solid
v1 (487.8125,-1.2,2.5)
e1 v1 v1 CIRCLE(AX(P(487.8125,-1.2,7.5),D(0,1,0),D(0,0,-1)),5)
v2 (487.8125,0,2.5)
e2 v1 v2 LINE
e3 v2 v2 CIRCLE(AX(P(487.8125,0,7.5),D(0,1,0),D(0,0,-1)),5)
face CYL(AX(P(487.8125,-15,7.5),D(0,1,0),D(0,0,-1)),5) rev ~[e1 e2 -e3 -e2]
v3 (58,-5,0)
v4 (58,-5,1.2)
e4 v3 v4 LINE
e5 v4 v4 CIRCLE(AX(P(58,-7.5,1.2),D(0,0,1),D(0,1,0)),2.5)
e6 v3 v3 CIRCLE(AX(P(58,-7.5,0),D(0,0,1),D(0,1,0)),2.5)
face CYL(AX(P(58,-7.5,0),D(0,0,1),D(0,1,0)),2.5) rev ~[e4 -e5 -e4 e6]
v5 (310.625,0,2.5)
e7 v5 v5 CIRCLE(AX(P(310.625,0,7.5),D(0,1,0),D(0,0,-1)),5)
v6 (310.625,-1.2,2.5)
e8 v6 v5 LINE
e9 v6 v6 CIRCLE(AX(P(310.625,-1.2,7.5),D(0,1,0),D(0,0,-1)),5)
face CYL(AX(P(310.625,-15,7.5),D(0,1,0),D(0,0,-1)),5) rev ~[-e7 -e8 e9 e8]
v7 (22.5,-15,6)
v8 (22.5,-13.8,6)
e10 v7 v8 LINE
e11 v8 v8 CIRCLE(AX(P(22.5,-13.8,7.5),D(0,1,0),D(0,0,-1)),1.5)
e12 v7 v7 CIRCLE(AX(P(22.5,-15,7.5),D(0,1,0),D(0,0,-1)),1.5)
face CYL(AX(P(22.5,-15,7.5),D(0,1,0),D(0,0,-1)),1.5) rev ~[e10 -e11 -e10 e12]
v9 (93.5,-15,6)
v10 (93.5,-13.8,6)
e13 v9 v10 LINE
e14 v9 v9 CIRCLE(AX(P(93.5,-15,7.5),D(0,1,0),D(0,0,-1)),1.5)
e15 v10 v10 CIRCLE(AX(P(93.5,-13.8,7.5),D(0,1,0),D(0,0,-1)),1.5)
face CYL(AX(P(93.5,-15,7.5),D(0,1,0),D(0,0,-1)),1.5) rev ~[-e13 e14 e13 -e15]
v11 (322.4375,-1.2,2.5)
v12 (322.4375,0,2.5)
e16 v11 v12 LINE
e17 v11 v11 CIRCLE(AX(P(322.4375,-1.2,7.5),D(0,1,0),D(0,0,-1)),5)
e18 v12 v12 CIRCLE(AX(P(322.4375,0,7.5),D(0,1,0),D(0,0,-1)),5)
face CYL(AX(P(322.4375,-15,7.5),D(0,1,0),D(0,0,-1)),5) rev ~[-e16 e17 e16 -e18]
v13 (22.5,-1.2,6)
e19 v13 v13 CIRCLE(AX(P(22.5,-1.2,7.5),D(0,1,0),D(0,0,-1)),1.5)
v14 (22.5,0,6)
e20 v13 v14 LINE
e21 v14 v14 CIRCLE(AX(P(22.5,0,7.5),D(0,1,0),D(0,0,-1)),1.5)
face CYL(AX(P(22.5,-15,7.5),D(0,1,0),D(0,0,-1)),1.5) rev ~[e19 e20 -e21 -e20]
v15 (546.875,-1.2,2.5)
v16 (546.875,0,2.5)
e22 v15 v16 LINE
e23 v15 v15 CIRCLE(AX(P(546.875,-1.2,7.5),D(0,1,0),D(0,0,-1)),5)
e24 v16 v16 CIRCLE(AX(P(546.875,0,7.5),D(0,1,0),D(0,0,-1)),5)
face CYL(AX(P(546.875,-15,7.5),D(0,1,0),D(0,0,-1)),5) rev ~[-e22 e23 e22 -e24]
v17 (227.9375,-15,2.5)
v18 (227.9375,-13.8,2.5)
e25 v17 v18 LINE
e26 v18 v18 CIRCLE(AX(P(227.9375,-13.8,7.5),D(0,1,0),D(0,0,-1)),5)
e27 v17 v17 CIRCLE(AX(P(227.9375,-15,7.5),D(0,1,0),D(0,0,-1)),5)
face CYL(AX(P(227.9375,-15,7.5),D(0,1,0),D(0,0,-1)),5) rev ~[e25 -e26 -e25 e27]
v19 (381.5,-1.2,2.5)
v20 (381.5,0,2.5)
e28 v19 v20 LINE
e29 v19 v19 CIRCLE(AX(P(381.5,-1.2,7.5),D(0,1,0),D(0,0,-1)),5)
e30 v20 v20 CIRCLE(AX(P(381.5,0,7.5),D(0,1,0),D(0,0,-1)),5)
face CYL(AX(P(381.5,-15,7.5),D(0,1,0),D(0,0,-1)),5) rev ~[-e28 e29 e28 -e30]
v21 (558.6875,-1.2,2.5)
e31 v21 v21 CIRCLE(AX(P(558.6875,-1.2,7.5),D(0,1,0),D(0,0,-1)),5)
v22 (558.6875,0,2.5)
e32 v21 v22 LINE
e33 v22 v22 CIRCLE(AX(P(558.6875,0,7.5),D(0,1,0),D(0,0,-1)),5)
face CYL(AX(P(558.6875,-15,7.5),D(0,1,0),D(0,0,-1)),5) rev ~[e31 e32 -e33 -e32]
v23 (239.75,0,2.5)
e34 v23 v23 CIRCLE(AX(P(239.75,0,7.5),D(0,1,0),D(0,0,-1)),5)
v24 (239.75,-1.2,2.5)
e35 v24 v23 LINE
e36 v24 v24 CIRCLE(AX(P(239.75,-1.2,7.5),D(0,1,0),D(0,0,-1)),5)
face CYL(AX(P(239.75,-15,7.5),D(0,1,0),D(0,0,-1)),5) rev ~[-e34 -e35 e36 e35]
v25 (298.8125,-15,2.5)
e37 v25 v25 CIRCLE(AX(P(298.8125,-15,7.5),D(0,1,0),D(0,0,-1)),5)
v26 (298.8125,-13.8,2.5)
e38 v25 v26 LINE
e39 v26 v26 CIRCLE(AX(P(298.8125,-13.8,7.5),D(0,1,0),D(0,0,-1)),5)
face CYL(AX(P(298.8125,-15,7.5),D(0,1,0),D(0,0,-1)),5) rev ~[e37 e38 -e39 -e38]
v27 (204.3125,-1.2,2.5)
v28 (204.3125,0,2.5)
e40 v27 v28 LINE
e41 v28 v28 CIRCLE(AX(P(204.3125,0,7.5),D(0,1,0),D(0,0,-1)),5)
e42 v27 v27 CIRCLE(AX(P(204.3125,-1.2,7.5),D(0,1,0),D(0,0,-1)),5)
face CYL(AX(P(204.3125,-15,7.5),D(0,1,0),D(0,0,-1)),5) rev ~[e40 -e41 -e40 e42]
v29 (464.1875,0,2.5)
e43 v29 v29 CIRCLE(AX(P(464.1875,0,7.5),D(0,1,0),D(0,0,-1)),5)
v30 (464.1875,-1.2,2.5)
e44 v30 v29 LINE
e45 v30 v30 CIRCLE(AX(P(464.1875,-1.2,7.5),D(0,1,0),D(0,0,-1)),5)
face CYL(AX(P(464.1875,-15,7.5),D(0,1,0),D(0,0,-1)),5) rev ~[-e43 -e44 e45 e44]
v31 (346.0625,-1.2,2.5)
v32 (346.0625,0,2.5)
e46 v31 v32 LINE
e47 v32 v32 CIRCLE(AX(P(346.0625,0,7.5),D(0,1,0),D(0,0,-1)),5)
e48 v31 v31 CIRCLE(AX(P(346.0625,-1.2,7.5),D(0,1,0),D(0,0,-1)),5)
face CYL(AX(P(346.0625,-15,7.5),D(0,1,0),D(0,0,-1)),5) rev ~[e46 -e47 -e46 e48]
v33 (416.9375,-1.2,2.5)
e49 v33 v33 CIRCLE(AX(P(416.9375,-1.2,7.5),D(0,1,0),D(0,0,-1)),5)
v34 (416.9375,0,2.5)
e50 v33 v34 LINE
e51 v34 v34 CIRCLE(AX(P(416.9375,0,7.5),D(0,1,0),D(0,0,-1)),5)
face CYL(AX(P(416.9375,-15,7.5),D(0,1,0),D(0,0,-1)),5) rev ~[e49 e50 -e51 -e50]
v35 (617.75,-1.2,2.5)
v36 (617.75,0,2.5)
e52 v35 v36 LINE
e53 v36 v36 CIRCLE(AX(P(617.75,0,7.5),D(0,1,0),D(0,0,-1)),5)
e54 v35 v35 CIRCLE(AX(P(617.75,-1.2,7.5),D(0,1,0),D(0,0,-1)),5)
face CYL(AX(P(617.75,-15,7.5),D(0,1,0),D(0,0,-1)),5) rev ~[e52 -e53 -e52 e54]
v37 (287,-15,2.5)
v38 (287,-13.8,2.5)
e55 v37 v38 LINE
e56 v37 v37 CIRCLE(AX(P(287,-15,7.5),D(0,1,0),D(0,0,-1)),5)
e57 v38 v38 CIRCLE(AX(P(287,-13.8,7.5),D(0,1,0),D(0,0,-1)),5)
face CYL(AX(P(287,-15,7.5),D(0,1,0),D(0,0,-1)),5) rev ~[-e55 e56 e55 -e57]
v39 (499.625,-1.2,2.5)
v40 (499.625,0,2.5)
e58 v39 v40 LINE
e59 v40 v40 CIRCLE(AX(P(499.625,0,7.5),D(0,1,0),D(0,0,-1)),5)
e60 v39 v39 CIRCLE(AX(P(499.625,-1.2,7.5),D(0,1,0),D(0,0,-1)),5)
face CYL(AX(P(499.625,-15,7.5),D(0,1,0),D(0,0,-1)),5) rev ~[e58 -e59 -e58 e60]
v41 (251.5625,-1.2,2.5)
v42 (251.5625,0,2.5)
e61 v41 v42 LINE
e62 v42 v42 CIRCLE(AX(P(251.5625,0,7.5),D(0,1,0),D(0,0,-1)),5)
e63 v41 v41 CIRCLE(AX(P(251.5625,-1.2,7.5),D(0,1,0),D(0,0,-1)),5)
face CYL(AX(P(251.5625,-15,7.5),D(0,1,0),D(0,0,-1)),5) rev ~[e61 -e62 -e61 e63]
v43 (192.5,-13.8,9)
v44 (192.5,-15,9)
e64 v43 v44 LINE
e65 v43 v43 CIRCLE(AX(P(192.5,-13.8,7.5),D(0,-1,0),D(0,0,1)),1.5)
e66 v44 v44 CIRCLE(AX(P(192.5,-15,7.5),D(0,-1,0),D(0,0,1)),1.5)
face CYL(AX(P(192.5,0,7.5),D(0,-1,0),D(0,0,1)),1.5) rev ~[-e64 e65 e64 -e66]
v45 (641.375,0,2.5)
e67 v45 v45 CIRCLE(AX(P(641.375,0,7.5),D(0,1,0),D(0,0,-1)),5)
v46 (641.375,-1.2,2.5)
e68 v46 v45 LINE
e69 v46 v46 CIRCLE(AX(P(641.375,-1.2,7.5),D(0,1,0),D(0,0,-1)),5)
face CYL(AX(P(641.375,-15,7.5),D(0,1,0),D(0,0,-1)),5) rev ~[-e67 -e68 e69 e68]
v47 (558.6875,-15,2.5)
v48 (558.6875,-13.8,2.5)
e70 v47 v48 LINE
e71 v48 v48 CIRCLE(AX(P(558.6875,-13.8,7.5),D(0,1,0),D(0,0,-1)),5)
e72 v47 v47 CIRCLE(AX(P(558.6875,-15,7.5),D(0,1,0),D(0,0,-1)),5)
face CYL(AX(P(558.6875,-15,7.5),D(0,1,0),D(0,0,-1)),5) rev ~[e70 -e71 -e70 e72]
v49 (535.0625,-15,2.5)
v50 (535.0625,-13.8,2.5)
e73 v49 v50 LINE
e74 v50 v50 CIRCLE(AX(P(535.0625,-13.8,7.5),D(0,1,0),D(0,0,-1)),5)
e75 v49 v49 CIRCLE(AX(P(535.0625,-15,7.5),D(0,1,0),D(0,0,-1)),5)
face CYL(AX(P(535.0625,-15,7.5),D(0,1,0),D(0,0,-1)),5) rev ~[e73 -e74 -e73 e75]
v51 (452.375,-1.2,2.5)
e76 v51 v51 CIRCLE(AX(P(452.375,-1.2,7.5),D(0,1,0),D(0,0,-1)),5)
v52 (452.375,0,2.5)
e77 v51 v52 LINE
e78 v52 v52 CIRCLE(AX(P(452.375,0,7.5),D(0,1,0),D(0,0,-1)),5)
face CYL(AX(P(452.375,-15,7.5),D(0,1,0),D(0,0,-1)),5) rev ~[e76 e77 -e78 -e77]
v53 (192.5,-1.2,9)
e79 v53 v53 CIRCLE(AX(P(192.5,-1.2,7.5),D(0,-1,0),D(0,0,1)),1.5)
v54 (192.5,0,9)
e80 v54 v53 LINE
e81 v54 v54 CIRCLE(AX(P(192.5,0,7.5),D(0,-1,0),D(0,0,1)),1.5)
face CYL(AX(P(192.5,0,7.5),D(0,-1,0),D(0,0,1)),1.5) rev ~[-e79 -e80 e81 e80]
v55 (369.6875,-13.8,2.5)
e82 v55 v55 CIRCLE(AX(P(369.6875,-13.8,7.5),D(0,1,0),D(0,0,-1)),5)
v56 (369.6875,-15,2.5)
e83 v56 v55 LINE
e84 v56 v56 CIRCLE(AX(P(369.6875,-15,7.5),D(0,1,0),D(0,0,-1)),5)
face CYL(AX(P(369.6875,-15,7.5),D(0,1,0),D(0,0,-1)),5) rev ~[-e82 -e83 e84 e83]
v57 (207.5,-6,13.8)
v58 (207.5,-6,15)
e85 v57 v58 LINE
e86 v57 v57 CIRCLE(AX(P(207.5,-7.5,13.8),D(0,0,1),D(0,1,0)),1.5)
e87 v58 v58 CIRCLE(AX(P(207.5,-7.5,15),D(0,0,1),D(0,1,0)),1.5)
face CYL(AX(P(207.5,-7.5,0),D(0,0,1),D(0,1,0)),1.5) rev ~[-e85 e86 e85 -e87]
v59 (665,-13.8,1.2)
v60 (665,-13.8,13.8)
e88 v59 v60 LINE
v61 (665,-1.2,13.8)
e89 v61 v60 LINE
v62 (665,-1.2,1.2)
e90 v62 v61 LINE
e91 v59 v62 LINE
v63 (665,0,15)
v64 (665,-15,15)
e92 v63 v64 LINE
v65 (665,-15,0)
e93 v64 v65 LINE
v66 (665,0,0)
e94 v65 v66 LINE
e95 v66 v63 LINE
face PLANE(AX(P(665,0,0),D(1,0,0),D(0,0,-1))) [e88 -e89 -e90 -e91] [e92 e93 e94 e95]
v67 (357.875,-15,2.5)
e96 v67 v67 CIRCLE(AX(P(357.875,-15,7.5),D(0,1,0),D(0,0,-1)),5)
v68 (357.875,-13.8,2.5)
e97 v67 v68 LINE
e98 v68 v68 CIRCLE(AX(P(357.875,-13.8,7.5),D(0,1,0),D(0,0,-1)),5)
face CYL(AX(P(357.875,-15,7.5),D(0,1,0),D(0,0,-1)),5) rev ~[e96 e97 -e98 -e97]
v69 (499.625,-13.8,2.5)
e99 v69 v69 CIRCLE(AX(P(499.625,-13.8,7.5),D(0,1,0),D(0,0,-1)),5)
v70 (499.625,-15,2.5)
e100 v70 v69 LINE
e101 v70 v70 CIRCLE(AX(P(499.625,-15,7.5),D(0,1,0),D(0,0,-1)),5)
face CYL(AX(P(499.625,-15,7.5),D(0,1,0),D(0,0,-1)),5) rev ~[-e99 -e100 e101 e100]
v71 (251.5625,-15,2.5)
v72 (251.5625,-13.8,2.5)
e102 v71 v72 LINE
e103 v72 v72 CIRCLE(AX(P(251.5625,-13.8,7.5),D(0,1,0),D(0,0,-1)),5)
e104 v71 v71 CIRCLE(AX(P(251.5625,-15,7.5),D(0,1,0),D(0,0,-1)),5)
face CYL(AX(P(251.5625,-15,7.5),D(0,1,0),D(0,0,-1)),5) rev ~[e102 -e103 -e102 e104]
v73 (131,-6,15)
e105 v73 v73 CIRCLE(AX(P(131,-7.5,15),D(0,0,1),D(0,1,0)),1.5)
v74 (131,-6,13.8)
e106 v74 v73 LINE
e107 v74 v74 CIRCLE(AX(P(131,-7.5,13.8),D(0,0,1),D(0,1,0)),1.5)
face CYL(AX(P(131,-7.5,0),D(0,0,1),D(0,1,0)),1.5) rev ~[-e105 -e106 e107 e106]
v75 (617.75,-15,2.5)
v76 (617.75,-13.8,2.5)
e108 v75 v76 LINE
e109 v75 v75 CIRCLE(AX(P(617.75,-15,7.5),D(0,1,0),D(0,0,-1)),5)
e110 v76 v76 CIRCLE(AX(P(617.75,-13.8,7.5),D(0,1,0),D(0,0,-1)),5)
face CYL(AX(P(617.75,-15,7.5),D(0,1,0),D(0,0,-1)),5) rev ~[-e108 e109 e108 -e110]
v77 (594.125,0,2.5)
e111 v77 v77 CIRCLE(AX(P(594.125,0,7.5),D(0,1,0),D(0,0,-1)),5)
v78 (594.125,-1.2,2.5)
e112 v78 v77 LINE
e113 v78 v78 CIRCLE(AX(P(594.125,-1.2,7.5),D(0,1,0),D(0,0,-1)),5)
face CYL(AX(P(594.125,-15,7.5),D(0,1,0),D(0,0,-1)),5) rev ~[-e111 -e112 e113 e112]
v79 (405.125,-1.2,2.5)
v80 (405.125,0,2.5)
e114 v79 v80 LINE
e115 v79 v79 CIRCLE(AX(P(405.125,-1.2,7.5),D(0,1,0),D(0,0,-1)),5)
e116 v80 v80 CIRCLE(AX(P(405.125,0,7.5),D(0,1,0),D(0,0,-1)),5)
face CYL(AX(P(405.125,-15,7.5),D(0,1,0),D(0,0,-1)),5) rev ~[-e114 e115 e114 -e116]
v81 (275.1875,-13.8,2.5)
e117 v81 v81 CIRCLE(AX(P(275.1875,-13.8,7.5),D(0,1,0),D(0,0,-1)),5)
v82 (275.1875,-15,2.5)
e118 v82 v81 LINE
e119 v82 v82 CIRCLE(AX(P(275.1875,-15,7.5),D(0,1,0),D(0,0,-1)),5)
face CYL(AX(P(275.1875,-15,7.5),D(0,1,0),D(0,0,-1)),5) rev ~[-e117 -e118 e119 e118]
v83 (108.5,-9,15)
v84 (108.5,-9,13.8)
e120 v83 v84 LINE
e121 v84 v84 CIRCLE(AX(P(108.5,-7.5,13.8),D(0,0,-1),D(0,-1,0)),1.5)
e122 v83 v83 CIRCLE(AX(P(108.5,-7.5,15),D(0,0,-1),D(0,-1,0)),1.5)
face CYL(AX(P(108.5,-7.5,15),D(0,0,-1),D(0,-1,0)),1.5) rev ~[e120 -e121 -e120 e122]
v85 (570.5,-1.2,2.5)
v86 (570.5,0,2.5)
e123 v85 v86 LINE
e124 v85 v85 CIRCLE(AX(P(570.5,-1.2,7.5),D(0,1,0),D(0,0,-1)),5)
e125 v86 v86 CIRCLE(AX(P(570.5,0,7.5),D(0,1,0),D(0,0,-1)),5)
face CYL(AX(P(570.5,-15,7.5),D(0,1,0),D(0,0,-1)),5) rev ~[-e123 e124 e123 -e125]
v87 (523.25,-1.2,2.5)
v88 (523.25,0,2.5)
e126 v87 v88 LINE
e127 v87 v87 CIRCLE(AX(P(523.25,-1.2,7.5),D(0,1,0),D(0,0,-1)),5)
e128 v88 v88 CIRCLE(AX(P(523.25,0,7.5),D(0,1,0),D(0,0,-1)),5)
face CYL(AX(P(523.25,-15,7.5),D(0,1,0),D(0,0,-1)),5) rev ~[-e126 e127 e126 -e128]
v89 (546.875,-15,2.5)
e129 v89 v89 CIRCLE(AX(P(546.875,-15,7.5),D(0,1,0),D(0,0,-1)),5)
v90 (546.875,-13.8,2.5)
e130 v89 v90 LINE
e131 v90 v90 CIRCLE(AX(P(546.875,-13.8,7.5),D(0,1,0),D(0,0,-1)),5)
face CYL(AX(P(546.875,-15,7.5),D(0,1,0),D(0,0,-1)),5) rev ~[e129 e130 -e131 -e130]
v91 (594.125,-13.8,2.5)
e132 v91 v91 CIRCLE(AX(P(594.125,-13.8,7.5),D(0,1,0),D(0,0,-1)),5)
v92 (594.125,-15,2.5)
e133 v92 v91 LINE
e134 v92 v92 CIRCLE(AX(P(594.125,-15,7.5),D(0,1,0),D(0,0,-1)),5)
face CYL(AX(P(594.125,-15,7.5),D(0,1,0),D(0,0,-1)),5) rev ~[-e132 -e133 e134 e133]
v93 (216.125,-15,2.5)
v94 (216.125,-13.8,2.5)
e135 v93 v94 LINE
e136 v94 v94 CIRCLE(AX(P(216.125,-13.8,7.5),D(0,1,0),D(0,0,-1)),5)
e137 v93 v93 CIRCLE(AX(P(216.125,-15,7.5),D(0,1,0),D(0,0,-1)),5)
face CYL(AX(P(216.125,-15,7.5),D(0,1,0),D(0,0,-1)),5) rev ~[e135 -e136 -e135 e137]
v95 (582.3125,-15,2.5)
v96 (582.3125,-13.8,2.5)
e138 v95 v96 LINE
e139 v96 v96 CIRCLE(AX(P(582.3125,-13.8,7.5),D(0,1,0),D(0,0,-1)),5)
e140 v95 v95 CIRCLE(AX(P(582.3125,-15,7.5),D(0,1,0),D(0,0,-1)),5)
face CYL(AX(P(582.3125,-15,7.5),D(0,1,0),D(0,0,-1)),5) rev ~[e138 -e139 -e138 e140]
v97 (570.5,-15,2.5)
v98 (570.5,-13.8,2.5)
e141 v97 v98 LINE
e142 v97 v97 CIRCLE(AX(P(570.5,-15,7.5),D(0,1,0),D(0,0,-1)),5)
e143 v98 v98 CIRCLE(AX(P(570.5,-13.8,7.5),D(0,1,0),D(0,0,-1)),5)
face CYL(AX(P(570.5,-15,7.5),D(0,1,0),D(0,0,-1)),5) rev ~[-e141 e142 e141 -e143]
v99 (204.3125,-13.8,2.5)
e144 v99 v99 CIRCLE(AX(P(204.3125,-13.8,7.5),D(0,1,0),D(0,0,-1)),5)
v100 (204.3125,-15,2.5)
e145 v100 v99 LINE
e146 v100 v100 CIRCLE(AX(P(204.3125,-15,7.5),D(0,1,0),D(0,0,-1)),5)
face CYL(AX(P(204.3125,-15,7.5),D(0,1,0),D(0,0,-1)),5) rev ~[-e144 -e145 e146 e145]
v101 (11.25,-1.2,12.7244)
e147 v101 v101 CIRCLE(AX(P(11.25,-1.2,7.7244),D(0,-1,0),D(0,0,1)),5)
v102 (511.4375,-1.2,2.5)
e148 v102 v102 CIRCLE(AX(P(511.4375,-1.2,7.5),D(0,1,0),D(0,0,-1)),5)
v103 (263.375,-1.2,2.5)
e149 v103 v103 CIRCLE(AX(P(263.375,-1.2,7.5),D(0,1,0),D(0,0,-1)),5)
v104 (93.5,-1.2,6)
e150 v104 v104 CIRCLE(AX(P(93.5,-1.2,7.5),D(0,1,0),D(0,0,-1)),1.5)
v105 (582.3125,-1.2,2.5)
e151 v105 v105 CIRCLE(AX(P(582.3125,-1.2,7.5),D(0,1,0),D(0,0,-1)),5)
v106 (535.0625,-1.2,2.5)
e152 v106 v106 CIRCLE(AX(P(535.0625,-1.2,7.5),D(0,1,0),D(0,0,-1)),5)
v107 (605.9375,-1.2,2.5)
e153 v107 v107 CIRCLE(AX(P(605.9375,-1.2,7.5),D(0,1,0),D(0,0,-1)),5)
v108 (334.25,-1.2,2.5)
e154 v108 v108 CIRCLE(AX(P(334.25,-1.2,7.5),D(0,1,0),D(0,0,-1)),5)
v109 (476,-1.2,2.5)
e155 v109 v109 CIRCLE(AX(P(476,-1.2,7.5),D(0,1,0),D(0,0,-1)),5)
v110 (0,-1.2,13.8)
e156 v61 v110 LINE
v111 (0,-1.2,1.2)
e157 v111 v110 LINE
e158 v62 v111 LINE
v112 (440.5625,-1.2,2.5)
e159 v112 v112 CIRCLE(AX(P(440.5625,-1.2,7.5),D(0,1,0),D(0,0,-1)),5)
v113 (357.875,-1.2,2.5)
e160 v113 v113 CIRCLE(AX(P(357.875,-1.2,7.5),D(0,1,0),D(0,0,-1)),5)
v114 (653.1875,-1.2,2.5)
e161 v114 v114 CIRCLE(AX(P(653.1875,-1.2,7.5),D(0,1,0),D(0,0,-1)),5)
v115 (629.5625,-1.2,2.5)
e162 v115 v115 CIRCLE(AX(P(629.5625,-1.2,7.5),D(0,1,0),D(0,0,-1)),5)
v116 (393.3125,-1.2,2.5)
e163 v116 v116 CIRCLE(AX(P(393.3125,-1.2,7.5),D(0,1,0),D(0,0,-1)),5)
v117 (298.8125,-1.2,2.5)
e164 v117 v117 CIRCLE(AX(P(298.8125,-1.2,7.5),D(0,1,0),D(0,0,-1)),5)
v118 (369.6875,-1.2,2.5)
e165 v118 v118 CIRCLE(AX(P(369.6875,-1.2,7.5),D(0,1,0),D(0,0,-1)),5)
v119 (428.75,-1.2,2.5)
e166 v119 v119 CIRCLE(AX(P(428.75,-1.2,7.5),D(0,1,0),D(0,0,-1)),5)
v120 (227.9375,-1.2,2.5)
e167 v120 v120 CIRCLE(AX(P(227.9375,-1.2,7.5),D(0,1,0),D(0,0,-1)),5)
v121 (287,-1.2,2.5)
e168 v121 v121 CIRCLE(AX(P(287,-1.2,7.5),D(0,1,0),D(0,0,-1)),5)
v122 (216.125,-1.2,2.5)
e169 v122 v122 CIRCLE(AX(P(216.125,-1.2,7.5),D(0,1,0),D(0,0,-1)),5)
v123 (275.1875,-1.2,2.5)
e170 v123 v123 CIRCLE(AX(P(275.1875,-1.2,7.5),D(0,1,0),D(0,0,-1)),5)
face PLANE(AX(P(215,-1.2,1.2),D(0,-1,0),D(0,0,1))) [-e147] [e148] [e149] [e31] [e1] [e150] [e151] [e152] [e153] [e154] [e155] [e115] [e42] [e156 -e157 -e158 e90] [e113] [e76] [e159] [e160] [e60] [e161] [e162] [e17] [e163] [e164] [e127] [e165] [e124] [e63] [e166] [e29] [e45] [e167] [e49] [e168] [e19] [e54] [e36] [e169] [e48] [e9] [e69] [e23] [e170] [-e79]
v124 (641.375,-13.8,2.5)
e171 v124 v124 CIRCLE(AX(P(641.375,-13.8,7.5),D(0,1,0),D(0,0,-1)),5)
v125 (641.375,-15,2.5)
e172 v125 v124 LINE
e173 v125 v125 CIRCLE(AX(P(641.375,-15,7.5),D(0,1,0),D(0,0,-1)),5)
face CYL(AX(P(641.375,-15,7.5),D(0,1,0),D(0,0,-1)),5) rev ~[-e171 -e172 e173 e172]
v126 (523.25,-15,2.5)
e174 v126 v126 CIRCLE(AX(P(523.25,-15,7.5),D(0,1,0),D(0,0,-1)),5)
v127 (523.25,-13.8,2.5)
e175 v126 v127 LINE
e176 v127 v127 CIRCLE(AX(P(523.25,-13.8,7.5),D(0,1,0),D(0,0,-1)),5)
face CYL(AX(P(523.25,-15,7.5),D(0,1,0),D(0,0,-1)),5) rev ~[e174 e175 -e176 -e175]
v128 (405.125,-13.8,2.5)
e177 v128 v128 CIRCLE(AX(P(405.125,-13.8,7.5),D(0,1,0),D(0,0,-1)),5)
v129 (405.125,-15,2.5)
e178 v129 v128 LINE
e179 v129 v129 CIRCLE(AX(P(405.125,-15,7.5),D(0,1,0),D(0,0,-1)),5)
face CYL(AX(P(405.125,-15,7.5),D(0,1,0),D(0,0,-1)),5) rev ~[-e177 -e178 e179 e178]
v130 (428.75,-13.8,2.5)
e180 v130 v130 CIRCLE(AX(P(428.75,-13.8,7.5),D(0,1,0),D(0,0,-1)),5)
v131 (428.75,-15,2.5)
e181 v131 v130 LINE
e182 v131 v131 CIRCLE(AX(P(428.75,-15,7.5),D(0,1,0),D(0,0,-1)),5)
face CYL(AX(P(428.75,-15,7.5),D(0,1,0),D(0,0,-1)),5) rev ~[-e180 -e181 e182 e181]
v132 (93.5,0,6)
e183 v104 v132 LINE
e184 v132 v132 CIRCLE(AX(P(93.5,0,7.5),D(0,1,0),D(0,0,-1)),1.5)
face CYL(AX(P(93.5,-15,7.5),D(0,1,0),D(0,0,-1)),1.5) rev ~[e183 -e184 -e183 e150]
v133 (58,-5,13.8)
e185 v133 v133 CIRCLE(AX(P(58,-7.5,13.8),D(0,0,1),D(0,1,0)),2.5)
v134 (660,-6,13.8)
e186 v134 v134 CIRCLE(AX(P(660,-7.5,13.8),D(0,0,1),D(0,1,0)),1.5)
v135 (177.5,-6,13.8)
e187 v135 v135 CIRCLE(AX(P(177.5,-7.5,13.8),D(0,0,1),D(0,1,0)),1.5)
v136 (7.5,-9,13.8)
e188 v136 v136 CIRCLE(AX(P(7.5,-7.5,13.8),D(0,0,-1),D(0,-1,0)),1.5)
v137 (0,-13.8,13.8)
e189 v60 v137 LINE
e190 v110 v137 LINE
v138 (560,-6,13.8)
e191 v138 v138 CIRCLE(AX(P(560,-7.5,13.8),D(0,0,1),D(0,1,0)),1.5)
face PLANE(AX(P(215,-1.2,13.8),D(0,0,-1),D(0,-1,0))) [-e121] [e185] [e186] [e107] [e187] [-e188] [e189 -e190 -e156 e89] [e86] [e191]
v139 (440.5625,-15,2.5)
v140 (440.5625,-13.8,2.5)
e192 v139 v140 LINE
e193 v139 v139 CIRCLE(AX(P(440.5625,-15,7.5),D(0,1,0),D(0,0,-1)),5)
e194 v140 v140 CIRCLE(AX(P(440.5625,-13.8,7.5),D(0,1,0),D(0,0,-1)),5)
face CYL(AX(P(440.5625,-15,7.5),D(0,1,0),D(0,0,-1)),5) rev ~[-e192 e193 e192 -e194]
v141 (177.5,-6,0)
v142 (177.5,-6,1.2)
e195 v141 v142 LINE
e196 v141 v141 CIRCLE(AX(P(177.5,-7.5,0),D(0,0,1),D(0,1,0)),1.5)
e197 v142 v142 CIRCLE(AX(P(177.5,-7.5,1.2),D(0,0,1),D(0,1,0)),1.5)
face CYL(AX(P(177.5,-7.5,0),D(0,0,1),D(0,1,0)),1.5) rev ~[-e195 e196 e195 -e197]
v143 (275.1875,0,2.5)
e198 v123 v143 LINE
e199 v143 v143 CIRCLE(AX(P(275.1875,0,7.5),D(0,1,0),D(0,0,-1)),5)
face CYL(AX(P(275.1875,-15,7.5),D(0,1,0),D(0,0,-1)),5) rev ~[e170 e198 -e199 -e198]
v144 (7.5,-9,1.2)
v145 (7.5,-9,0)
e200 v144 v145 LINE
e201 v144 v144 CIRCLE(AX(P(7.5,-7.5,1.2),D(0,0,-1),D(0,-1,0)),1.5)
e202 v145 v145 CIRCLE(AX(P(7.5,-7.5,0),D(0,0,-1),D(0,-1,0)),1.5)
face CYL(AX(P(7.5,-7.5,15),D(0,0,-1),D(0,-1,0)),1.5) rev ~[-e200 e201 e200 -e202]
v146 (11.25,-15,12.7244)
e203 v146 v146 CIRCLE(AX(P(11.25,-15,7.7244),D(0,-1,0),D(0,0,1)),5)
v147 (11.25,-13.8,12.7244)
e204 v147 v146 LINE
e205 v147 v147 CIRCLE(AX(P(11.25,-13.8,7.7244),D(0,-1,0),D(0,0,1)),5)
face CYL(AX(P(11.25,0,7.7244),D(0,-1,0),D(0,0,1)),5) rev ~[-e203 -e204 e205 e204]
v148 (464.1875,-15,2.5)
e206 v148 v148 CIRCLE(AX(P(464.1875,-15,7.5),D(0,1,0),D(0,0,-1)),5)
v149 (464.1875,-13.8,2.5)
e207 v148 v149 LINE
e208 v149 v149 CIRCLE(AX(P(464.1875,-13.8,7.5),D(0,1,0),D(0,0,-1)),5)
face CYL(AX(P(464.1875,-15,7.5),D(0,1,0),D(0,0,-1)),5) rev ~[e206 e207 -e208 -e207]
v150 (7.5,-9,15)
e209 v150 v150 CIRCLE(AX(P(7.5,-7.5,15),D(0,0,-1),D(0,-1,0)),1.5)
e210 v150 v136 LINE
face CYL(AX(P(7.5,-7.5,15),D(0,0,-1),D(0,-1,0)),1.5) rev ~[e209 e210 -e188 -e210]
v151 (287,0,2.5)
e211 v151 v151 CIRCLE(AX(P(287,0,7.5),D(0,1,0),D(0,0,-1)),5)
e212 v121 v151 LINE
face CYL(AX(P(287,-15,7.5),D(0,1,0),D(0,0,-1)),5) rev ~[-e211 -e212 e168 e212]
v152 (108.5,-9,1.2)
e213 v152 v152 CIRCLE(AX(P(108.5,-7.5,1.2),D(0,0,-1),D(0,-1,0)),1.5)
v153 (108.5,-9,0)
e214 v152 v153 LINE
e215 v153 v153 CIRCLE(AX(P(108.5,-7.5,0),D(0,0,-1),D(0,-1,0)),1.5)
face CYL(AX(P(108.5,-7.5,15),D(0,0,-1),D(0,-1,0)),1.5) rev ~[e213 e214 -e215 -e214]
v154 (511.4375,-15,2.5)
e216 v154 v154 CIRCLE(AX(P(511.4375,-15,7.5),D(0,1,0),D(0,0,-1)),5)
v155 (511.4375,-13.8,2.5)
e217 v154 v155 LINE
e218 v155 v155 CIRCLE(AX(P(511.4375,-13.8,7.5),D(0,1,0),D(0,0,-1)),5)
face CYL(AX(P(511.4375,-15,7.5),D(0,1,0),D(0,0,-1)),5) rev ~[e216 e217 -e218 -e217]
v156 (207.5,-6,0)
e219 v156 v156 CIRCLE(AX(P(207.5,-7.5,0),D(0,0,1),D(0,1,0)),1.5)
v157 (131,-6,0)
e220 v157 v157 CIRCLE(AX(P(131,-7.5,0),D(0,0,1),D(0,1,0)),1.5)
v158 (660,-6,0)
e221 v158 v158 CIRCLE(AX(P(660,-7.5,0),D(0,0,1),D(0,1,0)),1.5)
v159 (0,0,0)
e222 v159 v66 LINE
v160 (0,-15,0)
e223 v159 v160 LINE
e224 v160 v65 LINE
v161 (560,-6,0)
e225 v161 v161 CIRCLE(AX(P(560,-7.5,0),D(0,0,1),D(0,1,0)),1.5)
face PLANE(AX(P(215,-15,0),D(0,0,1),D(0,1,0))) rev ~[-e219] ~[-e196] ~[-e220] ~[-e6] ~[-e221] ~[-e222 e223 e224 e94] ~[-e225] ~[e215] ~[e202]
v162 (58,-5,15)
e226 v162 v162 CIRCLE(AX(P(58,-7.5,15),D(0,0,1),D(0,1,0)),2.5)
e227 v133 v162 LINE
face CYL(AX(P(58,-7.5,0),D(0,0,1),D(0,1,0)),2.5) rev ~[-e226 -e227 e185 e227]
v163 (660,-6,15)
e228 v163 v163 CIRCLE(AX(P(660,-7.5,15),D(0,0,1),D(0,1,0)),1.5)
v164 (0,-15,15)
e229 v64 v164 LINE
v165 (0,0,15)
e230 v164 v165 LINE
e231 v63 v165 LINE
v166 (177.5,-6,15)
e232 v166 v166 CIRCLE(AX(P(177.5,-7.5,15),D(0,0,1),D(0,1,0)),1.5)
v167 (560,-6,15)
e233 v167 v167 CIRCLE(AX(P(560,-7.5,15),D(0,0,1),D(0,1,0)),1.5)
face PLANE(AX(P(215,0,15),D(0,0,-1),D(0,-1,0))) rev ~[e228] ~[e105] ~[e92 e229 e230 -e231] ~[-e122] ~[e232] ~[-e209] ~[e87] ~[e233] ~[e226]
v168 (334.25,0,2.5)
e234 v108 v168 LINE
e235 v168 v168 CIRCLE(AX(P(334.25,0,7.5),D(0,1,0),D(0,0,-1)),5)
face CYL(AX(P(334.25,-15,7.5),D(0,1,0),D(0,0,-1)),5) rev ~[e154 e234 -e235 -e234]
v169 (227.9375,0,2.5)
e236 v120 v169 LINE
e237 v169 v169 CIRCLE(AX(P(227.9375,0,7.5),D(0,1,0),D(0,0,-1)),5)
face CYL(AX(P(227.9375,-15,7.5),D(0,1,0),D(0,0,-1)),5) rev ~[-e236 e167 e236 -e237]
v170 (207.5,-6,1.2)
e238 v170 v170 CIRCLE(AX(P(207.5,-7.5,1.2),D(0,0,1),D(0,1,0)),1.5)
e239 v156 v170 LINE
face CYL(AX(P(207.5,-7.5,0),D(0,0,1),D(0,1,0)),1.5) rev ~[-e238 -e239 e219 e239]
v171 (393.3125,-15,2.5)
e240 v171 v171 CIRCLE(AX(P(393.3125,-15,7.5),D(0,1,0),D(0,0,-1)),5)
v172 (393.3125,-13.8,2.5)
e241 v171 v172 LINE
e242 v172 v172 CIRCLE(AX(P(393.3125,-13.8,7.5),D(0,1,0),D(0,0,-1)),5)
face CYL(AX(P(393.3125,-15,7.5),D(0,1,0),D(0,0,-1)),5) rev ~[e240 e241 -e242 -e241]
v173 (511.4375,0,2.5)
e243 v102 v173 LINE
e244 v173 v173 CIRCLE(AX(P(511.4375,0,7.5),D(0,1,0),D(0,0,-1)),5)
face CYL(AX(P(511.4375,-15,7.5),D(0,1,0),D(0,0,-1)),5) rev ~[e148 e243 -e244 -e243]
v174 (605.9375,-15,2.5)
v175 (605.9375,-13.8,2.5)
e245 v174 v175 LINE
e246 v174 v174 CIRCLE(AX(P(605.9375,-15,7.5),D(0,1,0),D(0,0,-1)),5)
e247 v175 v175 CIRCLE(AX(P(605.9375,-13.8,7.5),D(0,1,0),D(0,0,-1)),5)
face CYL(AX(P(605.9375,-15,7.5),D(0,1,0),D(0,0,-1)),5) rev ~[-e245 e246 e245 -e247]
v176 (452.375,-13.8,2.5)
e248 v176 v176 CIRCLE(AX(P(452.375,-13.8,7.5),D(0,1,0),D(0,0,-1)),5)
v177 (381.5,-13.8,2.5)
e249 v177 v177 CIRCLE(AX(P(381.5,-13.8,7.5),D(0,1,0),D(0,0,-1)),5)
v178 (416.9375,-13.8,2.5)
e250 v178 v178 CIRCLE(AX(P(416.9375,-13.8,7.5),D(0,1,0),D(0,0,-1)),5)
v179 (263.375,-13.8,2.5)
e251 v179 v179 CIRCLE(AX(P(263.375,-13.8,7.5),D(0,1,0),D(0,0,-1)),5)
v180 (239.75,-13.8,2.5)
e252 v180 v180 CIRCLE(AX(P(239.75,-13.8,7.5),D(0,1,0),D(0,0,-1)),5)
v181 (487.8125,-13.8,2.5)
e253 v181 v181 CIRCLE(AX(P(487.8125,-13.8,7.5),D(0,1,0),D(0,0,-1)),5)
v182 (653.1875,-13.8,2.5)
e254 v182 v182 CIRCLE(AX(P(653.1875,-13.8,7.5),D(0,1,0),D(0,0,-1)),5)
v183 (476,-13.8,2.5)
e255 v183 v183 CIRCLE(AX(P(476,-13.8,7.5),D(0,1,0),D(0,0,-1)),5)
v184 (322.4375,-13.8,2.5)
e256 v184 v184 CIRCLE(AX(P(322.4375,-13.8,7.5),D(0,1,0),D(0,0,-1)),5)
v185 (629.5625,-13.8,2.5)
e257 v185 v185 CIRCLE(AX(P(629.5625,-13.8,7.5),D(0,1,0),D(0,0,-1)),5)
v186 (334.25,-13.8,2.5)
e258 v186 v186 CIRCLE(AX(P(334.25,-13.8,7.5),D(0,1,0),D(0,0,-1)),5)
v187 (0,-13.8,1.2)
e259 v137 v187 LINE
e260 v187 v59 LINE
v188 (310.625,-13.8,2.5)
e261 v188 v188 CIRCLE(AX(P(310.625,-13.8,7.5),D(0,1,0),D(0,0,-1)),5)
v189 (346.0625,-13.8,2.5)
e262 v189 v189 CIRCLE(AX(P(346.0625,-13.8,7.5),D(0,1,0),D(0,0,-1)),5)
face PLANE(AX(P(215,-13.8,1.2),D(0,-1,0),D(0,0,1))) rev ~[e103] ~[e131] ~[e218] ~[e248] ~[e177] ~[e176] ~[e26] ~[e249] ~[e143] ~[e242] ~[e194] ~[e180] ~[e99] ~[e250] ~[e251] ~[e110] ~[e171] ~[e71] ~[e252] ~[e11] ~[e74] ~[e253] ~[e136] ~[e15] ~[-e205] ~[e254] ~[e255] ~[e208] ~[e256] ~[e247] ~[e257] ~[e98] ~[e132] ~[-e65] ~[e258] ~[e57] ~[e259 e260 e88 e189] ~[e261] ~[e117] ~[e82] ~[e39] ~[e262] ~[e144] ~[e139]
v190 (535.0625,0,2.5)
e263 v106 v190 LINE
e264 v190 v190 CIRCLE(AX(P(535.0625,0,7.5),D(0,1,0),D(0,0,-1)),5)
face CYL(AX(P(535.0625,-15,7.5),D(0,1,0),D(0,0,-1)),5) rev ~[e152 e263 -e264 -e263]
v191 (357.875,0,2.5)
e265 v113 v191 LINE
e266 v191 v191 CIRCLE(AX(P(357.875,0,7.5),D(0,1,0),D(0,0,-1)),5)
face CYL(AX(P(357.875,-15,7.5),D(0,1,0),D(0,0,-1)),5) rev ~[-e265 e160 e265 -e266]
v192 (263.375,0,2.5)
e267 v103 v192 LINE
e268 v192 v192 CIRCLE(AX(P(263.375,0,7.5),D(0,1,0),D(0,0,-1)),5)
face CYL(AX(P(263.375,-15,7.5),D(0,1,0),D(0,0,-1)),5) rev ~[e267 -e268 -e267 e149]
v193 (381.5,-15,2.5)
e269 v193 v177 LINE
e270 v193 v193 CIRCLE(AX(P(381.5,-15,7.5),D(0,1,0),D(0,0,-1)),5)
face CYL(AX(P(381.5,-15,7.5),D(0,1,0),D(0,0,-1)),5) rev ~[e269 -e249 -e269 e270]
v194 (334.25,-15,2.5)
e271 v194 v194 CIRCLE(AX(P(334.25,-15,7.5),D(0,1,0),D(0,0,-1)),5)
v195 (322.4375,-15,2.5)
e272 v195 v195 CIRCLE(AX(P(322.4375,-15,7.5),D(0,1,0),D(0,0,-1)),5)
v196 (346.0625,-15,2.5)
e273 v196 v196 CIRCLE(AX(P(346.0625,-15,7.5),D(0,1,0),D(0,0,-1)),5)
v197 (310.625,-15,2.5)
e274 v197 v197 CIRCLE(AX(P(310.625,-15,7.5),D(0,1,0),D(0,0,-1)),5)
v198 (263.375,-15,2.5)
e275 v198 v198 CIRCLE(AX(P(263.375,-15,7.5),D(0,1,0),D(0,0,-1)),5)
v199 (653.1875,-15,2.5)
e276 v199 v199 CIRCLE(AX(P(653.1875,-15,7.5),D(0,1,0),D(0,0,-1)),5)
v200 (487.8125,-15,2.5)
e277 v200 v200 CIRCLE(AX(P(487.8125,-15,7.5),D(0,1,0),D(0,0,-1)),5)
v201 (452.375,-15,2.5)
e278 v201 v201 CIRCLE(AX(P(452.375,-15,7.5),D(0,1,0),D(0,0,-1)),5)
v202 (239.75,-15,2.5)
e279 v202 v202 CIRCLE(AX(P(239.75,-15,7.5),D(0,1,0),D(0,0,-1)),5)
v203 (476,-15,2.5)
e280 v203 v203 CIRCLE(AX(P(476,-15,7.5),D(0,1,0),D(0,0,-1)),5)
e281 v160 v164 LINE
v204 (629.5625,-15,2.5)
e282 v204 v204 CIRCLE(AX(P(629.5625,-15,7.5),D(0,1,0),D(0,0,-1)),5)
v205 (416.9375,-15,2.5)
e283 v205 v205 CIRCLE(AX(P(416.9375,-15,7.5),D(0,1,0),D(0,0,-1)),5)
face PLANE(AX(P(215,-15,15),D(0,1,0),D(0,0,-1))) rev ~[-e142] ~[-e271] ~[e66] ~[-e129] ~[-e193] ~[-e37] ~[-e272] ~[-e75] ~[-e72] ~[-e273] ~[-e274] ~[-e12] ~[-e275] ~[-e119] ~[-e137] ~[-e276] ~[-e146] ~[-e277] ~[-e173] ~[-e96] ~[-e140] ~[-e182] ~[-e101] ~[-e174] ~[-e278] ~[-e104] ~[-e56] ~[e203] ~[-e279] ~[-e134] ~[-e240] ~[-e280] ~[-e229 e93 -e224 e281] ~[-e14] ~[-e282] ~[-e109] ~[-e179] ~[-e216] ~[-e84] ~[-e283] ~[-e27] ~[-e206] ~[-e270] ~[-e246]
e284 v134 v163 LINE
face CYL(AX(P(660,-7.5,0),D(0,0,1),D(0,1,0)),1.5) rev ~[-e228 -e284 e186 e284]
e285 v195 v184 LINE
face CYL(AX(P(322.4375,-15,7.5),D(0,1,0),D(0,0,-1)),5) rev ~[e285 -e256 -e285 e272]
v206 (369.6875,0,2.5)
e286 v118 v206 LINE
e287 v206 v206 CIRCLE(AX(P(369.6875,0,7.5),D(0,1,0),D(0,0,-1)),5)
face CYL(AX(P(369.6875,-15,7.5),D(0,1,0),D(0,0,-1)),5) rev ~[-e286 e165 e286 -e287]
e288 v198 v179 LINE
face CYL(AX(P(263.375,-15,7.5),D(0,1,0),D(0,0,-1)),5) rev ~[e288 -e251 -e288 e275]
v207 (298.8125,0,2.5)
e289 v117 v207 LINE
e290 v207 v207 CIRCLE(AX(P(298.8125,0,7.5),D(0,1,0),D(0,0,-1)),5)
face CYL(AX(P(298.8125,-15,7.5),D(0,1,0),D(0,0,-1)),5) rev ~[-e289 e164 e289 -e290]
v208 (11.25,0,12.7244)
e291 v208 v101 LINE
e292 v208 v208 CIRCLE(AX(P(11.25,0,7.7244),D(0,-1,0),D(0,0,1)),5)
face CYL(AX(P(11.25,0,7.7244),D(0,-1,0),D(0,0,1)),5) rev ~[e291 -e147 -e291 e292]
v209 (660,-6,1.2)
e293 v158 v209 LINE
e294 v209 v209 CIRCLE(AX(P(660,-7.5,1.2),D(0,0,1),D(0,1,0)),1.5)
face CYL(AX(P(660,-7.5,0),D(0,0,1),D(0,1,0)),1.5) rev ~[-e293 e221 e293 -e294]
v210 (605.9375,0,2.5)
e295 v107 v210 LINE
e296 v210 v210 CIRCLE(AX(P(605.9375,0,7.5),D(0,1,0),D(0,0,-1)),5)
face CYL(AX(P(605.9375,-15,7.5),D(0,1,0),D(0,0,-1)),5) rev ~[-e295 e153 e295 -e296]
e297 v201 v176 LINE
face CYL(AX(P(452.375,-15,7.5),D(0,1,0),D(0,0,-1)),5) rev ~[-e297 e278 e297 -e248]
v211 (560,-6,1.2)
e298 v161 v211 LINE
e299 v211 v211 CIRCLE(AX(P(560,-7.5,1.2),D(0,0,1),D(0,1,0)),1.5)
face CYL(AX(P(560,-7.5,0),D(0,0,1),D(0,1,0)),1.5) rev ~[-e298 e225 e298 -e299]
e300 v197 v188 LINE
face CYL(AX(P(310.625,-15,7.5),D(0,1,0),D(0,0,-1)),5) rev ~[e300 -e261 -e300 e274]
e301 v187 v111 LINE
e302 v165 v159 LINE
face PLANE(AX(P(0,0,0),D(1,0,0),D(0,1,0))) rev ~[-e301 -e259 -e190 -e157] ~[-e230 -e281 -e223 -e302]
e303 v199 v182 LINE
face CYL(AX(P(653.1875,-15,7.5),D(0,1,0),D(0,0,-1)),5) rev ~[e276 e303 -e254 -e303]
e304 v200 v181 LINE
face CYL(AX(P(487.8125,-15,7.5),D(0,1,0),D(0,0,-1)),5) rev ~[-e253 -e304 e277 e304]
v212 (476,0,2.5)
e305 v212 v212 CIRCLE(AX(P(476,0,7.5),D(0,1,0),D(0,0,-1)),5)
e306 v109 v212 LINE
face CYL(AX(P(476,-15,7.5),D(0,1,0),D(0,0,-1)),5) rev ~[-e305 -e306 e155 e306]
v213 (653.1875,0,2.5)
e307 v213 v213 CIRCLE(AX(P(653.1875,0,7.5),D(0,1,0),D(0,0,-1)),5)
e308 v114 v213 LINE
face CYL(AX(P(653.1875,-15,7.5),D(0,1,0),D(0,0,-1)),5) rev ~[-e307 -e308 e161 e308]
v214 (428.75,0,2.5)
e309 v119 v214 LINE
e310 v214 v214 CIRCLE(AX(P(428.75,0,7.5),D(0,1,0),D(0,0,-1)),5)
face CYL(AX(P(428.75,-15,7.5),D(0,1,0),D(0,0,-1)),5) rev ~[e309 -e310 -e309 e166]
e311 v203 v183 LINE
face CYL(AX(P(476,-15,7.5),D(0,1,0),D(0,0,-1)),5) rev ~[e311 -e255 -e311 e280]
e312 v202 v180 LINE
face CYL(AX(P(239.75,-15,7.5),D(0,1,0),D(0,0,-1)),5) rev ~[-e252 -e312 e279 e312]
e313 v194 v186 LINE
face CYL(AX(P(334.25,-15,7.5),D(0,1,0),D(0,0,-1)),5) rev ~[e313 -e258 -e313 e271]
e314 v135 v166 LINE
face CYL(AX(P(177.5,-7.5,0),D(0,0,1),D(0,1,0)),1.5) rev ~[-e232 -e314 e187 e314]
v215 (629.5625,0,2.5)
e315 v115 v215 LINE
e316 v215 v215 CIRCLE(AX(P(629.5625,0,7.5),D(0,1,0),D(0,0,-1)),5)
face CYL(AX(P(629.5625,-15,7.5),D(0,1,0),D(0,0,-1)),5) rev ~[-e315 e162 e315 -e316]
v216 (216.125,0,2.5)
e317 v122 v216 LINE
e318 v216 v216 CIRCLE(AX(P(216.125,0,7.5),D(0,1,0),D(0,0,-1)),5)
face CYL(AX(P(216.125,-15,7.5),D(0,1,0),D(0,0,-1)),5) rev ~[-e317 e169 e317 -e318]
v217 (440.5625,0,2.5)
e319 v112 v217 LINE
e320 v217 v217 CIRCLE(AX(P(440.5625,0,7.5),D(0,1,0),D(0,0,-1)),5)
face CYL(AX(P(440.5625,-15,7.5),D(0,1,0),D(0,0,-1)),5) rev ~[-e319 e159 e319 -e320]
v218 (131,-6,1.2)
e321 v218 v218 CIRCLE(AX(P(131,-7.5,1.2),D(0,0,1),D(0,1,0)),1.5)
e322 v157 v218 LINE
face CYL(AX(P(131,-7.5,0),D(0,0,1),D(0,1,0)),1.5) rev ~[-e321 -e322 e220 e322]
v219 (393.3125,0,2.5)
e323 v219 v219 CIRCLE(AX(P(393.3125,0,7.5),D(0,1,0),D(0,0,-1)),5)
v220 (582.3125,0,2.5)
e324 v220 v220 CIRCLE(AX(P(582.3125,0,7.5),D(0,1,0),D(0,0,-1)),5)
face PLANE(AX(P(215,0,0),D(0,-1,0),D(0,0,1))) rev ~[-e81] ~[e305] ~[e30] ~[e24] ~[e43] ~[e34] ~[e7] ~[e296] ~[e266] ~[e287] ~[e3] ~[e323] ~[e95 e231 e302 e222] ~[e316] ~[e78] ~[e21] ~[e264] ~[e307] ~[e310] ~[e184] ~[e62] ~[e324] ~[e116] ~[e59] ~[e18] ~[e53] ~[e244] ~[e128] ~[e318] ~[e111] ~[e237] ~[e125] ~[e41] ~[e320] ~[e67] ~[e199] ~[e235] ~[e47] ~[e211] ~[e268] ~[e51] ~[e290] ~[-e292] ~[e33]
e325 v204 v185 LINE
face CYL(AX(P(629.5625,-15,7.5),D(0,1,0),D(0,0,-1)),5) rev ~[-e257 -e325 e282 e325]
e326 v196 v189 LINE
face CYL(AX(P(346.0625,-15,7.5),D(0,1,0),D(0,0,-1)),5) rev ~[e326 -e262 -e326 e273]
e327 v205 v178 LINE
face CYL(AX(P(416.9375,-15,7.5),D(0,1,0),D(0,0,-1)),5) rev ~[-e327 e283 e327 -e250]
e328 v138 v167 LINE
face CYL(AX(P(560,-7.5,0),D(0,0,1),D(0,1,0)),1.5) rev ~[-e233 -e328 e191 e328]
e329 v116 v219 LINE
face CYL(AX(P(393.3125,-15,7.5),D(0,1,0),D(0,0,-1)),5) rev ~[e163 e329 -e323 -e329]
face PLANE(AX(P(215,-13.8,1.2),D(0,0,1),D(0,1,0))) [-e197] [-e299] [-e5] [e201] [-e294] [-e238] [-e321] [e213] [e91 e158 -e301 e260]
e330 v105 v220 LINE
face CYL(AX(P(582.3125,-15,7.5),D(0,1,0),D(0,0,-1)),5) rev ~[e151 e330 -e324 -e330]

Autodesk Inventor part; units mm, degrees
ref_plane "YZ Plane" through (0, 0, 0) normal (1, 0, 0) x (0, 1, 0)
ref_plane "XZ Plane" through (0, 0, 0) normal (0, 1, 0) x (-1, 0, 0)
ref_plane "XY Plane" through (0, 0, 0) normal (0, 0, 1) x (1, 0, 0)
sketch "スケッチ1" plane through (0, 0, 0) normal (1, 0, 0) x (0, 1, 0)
  line L0 (0, 0) -> (-15, 0)
  line L1 (-15, 0) -> (-15, 15)
  line L2 (-15, 15) -> (0, 15)
  line L3 (0, 15) -> (0, 0)
  line L4 (-1.2, 13.8) -> (-13.8, 13.8)
  line L5 (-13.8, 13.8) -> (-13.8, 1.2)
  line L6 (-13.8, 1.2) -> (-1.2, 1.2)
  line L7 (-1.2, 1.2) -> (-1.2, 13.8)
  dimension "d0" = 15
  dimension "d1" = 15
  dimension "d2" = 1.2
  dimension "d3" = 1.2
  dimension "d4" = 1.2
  dimension "d5" = 1.2
extrude "押し出し1" add sketch "スケッチ1" along normal blind 116
sketch "スケッチ2" plane through (0, -15, 15) normal (0, 0, 1) x (1, 0, 0)
  line L0 (0, 15) -> (116, 15) projected
  line L1 (0, 15) -> (0, 0) projected
  line L2 (116, 15) -> (116, 0) projected
  point P0 (7.5, 7.5)
  point P1 (108.5, 7.5)
  dimension "d8" = 7.5
  dimension "d9" = 7.5
  dimension "d10" = 7.5
  dimension "d11" = 7.5
hole "穴1" at (7.5, -7.5, 15) at (108.5, -7.5, 15) direction (0, 0, -1) diameter 3 end through all
sketch "スケッチ3" plane through (0, -15, 0) normal (0, 0, -1) x (-1, 0, 0)
  circle A0 centre (-7.5, 7.5) radius 1.5 projected
  line L0 (0, 0) -> (-116, 0) projected
  point P0 (0, 15)
  point P1 (-58, 7.5)
  dimension "d19" = 50.5
  dimension "d20" = 7.5
hole "穴2" at (58, -7.5, 0) direction (0, 0, 1) diameter 5 end through all
sketch "スケッチ4" plane through (0, -15, 0) normal (0, -1, 0) x (1, 0, 0)
  line L0 (0, 15) -> (0, 0) projected
  line L1 (0, 0) -> (116, 0) projected
  line L2 (116, 15) -> (116, 0) projected
  point P0 (22.5, 7.5)
  point P1 (93.5, 7.5)
  dimension "d28" = 22.5
  dimension "d29" = 7.5
  dimension "d30" = 7.5
  dimension "d31" = 22.5
hole "穴3" at (22.5, -15, 7.5) at (93.5, -15, 7.5) direction (0, 1, 0) diameter 3 end through all
sketch "スケッチ5" plane through (116, 0, 0) normal (1, 0, 0) x (0, 0, -1)
  line L0 (0, 0) -> (-15, 0)
  line L1 (-15, 0) -> (-15, -15)
  line L2 (-15, -15) -> (0, -15)
  line L3 (0, -15) -> (0, 0)
  line L4 (-13.8, -1.2) -> (-1.2, -1.2) projected
  line L5 (-1.2, -1.2) -> (-13.8, -1.2)
  line L6 (-13.8, -1.2) -> (-13.8, -13.8)
  line L7 (-13.8, -13.8) -> (-1.2, -13.8)
  line L8 (-1.2, -13.8) -> (-1.2, -1.2)
  dimension "d39" = 15
  dimension "d40" = 15
extrude "押し出し2" add sketch "スケッチ5" along normal blind 99
sketch "スケッチ6" plane through (0, -15, 0) normal (0, 0, -1) x (-1, 0, 0)
  line L0 (-215, 0) -> (-215, 15) projected
  line L1 (0, 15) -> (-215, 15) projected
  point P0 (-207.5, 7.5)
  dimension "d43" = 7.5
  dimension "d44" = 7.5
hole "穴4" at (207.5, -7.5, 0) direction (0, 0, 1) diameter 3 end through all
sketch "スケッチ7" plane through (0, 0, 15) normal (0, 1, 0) x (1, 0, 0)
  line L0 (0, 15) -> (215, 15) projected
  line L1 (215, 15) -> (215, 0) projected
  point P0 (192.5, 7.5)
  dimension "d52" = 7.5
  dimension "d53" = 22.5
hole "穴5" at (192.5, 0, 7.5) direction (0, -1, 0) diameter 3 end through all
sketch "スケッチ8" plane through (0, -15, 0) normal (0, 0, -1) x (-1, 0, 0)
  circle A0 centre (-108.5, 7.5) radius 1.5 projected
  line L0 (0, 0) -> (-215, 0) projected
  line L1 (-215, 0) -> (-215, 15) projected
  point P0 (0, 15)
  point P1 (-131, 7.5)
  point P2 (-177.5, 7.5)
  dimension "d61" = 22.5
  dimension "d62" = 7.5
  dimension "d63" = 7.5
  dimension "d64" = 37.5
hole "穴6" at (131, -7.5, 0) at (177.5, -7.5, 0) direction (0, 0, 1) diameter 3 end through all
sketch "スケッチ11" plane through (215, 0, 0) normal (1, 0, 0) x (0, 0, -1)
  line L0 (0, -15) -> (0, 0) projected
  line L1 (-15, 0) -> (-15, -15) projected
  line L2 (0, 0) -> (-15, 0)
  line L3 (-15, 0) -> (-15, -15)
  line L4 (-15, -15) -> (0, -15)
  line L5 (0, -15) -> (0, 0)
  line L6 (-1.2, -13.8) -> (-13.8, -13.8) projected
  line L7 (-1.2, -1.2) -> (-13.8, -1.2)
  line L8 (-13.8, -1.2) -> (-13.8, -13.8)
  line L9 (-13.8, -13.8) -> (-1.2, -13.8)
  line L10 (-1.2, -13.8) -> (-1.2, -1.2)
extrude "押し出し3" add sketch "スケッチ11" along normal blind 450
sketch "スケッチ12" plane through (0, -15, 0) normal (0, 0, -1) x (-1, 0, 0)
  line L0 (0, 15) -> (-665, 15) projected
  line L1 (-665, 0) -> (-665, 15) projected
  point P0 (-660, 7.5)
  point P1 (-560, 7.5)
  dimension "d114" = 7.5
  dimension "d115" = 5
  dimension "d116" = 7.5
  dimension "d117" = 100
hole "穴8" at (660, -7.5, 0) at (560, -7.5, 0) direction (0, 0, 1) diameter 3 end through all
sketch "スケッチ13" plane through (0, -15, 0) normal (0, -1, 0) x (1, 0, 0)
  line L0 (0, 15) -> (665, 15) projected
  circle A0 centre (192.5, 7.5) radius 1.5 projected
  line L1 (665, 15) -> (665, 0) projected
  point P0 (0, 0)
  point P1 (653.1875, 7.5)
  point P2 (641.375, 7.5)
  point P3 (629.5625, 7.5)
  point P4 (617.75, 7.5)
  point P5 (605.9375, 7.5)
  point P6 (594.125, 7.5)
  point P7 (582.3125, 7.5)
  point P8 (570.5, 7.5)
  point P9 (558.6875, 7.5)
  point P10 (546.875, 7.5)
  point P11 (535.0625, 7.5)
  point P12 (523.25, 7.5)
  point P13 (511.4375, 7.5)
  point P14 (499.625, 7.5)
  point P15 (487.8125, 7.5)
  point P16 (476, 7.5)
  point P17 (464.1875, 7.5)
  point P18 (452.375, 7.5)
  point P19 (440.5625, 7.5)
  point P20 (428.75, 7.5)
  point P21 (416.9375, 7.5)
  point P22 (405.125, 7.5)
  point P23 (393.3125, 7.5)
  point P24 (381.5, 7.5)
  point P25 (369.6875, 7.5)
  point P26 (357.875, 7.5)
  point P27 (346.0625, 7.5)
  point P28 (334.25, 7.5)
  point P29 (322.4375, 7.5)
  point P30 (310.625, 7.5)
  point P31 (298.8125, 7.5)
  point P32 (287, 7.5)
  point P33 (275.1875, 7.5)
  point P34 (263.375, 7.5)
  point P35 (251.5625, 7.5)
  point P36 (239.75, 7.5)
  point P37 (227.9375, 7.5)
  point P38 (216.125, 7.5)
  point P39 (204.3125, 7.5)
  dimension "d125" = 7.5
  dimension "d126" = 472.5
  dimension "d137" = 11.8125
  dimension "d142" = 11.8125
hole "穴9" at (653.1875, -15, 7.5) at (641.375, -15, 7.5) at (629.5625, -15, 7.5) at (617.75, -15, 7.5) at (605.9375, -15, 7.5) at (594.125, -15, 7.5) at (582.3125, -15, 7.5) at (570.5, -15, 7.5) at (558.6875, -15, 7.5) at (546.875, -15, 7.5) at (535.0625, -15, 7.5) at (523.25, -15, 7.5) at (511.4375, -15, 7.5) at (499.625, -15, 7.5) at (487.8125, -15, 7.5) at (476, -15, 7.5) at (464.1875, -15, 7.5) at (452.375, -15, 7.5) at (440.5625, -15, 7.5) at (428.75, -15, 7.5) at (416.9375, -15, 7.5) at (405.125, -15, 7.5) at (393.3125, -15, 7.5) at (381.5, -15, 7.5) at (369.6875, -15, 7.5) at (357.875, -15, 7.5) at (346.0625, -15, 7.5) at (334.25, -15, 7.5) at (322.4375, -15, 7.5) at (310.625, -15, 7.5) at (298.8125, -15, 7.5) at (287, -15, 7.5) at (275.1875, -15, 7.5) at (263.375, -15, 7.5) at (251.5625, -15, 7.5) at (239.75, -15, 7.5) at (227.9375, -15, 7.5) at (216.125, -15, 7.5) at (204.3125, -15, 7.5) direction (0, 1, 0) diameter 10 end through all
sketch "スケッチ14" plane through (0, 0, 15) normal (0, 1, 0) x (1, 0, 0)
  circle A0 centre (22.5, 7.5) radius 1.5 projected
  line L0 (0, 15) -> (0, 0) projected
  point P0 (11.25, 7.2756)
  dimension "d150" = 22.5
  dimension "d151" = 11.25
hole "穴10" at (11.25, 0, 7.7244) direction (0, -1, 0) diameter 10 end through all
equation "\"d3\" = d2"
equation "\"d4\" = d2"
equation "\"d5\" = d3"
equation "\"d9\" = d8"
equation "\"d10\" = d8"
equation "\"d11\" = d9"
equation "\"d30\" = d29"
equation "\"d31\" = d28"
equation "\"d63\" = d62"
equation "\"d116\" = d114"
equation "\"d137\" = 0.025 * d126"
equation "\"d142\" = d137"
equation "\"d151\" = 0.5 * d150"
properties part number "ロボットベース15x15_3" material "アルミニウム 6061"
